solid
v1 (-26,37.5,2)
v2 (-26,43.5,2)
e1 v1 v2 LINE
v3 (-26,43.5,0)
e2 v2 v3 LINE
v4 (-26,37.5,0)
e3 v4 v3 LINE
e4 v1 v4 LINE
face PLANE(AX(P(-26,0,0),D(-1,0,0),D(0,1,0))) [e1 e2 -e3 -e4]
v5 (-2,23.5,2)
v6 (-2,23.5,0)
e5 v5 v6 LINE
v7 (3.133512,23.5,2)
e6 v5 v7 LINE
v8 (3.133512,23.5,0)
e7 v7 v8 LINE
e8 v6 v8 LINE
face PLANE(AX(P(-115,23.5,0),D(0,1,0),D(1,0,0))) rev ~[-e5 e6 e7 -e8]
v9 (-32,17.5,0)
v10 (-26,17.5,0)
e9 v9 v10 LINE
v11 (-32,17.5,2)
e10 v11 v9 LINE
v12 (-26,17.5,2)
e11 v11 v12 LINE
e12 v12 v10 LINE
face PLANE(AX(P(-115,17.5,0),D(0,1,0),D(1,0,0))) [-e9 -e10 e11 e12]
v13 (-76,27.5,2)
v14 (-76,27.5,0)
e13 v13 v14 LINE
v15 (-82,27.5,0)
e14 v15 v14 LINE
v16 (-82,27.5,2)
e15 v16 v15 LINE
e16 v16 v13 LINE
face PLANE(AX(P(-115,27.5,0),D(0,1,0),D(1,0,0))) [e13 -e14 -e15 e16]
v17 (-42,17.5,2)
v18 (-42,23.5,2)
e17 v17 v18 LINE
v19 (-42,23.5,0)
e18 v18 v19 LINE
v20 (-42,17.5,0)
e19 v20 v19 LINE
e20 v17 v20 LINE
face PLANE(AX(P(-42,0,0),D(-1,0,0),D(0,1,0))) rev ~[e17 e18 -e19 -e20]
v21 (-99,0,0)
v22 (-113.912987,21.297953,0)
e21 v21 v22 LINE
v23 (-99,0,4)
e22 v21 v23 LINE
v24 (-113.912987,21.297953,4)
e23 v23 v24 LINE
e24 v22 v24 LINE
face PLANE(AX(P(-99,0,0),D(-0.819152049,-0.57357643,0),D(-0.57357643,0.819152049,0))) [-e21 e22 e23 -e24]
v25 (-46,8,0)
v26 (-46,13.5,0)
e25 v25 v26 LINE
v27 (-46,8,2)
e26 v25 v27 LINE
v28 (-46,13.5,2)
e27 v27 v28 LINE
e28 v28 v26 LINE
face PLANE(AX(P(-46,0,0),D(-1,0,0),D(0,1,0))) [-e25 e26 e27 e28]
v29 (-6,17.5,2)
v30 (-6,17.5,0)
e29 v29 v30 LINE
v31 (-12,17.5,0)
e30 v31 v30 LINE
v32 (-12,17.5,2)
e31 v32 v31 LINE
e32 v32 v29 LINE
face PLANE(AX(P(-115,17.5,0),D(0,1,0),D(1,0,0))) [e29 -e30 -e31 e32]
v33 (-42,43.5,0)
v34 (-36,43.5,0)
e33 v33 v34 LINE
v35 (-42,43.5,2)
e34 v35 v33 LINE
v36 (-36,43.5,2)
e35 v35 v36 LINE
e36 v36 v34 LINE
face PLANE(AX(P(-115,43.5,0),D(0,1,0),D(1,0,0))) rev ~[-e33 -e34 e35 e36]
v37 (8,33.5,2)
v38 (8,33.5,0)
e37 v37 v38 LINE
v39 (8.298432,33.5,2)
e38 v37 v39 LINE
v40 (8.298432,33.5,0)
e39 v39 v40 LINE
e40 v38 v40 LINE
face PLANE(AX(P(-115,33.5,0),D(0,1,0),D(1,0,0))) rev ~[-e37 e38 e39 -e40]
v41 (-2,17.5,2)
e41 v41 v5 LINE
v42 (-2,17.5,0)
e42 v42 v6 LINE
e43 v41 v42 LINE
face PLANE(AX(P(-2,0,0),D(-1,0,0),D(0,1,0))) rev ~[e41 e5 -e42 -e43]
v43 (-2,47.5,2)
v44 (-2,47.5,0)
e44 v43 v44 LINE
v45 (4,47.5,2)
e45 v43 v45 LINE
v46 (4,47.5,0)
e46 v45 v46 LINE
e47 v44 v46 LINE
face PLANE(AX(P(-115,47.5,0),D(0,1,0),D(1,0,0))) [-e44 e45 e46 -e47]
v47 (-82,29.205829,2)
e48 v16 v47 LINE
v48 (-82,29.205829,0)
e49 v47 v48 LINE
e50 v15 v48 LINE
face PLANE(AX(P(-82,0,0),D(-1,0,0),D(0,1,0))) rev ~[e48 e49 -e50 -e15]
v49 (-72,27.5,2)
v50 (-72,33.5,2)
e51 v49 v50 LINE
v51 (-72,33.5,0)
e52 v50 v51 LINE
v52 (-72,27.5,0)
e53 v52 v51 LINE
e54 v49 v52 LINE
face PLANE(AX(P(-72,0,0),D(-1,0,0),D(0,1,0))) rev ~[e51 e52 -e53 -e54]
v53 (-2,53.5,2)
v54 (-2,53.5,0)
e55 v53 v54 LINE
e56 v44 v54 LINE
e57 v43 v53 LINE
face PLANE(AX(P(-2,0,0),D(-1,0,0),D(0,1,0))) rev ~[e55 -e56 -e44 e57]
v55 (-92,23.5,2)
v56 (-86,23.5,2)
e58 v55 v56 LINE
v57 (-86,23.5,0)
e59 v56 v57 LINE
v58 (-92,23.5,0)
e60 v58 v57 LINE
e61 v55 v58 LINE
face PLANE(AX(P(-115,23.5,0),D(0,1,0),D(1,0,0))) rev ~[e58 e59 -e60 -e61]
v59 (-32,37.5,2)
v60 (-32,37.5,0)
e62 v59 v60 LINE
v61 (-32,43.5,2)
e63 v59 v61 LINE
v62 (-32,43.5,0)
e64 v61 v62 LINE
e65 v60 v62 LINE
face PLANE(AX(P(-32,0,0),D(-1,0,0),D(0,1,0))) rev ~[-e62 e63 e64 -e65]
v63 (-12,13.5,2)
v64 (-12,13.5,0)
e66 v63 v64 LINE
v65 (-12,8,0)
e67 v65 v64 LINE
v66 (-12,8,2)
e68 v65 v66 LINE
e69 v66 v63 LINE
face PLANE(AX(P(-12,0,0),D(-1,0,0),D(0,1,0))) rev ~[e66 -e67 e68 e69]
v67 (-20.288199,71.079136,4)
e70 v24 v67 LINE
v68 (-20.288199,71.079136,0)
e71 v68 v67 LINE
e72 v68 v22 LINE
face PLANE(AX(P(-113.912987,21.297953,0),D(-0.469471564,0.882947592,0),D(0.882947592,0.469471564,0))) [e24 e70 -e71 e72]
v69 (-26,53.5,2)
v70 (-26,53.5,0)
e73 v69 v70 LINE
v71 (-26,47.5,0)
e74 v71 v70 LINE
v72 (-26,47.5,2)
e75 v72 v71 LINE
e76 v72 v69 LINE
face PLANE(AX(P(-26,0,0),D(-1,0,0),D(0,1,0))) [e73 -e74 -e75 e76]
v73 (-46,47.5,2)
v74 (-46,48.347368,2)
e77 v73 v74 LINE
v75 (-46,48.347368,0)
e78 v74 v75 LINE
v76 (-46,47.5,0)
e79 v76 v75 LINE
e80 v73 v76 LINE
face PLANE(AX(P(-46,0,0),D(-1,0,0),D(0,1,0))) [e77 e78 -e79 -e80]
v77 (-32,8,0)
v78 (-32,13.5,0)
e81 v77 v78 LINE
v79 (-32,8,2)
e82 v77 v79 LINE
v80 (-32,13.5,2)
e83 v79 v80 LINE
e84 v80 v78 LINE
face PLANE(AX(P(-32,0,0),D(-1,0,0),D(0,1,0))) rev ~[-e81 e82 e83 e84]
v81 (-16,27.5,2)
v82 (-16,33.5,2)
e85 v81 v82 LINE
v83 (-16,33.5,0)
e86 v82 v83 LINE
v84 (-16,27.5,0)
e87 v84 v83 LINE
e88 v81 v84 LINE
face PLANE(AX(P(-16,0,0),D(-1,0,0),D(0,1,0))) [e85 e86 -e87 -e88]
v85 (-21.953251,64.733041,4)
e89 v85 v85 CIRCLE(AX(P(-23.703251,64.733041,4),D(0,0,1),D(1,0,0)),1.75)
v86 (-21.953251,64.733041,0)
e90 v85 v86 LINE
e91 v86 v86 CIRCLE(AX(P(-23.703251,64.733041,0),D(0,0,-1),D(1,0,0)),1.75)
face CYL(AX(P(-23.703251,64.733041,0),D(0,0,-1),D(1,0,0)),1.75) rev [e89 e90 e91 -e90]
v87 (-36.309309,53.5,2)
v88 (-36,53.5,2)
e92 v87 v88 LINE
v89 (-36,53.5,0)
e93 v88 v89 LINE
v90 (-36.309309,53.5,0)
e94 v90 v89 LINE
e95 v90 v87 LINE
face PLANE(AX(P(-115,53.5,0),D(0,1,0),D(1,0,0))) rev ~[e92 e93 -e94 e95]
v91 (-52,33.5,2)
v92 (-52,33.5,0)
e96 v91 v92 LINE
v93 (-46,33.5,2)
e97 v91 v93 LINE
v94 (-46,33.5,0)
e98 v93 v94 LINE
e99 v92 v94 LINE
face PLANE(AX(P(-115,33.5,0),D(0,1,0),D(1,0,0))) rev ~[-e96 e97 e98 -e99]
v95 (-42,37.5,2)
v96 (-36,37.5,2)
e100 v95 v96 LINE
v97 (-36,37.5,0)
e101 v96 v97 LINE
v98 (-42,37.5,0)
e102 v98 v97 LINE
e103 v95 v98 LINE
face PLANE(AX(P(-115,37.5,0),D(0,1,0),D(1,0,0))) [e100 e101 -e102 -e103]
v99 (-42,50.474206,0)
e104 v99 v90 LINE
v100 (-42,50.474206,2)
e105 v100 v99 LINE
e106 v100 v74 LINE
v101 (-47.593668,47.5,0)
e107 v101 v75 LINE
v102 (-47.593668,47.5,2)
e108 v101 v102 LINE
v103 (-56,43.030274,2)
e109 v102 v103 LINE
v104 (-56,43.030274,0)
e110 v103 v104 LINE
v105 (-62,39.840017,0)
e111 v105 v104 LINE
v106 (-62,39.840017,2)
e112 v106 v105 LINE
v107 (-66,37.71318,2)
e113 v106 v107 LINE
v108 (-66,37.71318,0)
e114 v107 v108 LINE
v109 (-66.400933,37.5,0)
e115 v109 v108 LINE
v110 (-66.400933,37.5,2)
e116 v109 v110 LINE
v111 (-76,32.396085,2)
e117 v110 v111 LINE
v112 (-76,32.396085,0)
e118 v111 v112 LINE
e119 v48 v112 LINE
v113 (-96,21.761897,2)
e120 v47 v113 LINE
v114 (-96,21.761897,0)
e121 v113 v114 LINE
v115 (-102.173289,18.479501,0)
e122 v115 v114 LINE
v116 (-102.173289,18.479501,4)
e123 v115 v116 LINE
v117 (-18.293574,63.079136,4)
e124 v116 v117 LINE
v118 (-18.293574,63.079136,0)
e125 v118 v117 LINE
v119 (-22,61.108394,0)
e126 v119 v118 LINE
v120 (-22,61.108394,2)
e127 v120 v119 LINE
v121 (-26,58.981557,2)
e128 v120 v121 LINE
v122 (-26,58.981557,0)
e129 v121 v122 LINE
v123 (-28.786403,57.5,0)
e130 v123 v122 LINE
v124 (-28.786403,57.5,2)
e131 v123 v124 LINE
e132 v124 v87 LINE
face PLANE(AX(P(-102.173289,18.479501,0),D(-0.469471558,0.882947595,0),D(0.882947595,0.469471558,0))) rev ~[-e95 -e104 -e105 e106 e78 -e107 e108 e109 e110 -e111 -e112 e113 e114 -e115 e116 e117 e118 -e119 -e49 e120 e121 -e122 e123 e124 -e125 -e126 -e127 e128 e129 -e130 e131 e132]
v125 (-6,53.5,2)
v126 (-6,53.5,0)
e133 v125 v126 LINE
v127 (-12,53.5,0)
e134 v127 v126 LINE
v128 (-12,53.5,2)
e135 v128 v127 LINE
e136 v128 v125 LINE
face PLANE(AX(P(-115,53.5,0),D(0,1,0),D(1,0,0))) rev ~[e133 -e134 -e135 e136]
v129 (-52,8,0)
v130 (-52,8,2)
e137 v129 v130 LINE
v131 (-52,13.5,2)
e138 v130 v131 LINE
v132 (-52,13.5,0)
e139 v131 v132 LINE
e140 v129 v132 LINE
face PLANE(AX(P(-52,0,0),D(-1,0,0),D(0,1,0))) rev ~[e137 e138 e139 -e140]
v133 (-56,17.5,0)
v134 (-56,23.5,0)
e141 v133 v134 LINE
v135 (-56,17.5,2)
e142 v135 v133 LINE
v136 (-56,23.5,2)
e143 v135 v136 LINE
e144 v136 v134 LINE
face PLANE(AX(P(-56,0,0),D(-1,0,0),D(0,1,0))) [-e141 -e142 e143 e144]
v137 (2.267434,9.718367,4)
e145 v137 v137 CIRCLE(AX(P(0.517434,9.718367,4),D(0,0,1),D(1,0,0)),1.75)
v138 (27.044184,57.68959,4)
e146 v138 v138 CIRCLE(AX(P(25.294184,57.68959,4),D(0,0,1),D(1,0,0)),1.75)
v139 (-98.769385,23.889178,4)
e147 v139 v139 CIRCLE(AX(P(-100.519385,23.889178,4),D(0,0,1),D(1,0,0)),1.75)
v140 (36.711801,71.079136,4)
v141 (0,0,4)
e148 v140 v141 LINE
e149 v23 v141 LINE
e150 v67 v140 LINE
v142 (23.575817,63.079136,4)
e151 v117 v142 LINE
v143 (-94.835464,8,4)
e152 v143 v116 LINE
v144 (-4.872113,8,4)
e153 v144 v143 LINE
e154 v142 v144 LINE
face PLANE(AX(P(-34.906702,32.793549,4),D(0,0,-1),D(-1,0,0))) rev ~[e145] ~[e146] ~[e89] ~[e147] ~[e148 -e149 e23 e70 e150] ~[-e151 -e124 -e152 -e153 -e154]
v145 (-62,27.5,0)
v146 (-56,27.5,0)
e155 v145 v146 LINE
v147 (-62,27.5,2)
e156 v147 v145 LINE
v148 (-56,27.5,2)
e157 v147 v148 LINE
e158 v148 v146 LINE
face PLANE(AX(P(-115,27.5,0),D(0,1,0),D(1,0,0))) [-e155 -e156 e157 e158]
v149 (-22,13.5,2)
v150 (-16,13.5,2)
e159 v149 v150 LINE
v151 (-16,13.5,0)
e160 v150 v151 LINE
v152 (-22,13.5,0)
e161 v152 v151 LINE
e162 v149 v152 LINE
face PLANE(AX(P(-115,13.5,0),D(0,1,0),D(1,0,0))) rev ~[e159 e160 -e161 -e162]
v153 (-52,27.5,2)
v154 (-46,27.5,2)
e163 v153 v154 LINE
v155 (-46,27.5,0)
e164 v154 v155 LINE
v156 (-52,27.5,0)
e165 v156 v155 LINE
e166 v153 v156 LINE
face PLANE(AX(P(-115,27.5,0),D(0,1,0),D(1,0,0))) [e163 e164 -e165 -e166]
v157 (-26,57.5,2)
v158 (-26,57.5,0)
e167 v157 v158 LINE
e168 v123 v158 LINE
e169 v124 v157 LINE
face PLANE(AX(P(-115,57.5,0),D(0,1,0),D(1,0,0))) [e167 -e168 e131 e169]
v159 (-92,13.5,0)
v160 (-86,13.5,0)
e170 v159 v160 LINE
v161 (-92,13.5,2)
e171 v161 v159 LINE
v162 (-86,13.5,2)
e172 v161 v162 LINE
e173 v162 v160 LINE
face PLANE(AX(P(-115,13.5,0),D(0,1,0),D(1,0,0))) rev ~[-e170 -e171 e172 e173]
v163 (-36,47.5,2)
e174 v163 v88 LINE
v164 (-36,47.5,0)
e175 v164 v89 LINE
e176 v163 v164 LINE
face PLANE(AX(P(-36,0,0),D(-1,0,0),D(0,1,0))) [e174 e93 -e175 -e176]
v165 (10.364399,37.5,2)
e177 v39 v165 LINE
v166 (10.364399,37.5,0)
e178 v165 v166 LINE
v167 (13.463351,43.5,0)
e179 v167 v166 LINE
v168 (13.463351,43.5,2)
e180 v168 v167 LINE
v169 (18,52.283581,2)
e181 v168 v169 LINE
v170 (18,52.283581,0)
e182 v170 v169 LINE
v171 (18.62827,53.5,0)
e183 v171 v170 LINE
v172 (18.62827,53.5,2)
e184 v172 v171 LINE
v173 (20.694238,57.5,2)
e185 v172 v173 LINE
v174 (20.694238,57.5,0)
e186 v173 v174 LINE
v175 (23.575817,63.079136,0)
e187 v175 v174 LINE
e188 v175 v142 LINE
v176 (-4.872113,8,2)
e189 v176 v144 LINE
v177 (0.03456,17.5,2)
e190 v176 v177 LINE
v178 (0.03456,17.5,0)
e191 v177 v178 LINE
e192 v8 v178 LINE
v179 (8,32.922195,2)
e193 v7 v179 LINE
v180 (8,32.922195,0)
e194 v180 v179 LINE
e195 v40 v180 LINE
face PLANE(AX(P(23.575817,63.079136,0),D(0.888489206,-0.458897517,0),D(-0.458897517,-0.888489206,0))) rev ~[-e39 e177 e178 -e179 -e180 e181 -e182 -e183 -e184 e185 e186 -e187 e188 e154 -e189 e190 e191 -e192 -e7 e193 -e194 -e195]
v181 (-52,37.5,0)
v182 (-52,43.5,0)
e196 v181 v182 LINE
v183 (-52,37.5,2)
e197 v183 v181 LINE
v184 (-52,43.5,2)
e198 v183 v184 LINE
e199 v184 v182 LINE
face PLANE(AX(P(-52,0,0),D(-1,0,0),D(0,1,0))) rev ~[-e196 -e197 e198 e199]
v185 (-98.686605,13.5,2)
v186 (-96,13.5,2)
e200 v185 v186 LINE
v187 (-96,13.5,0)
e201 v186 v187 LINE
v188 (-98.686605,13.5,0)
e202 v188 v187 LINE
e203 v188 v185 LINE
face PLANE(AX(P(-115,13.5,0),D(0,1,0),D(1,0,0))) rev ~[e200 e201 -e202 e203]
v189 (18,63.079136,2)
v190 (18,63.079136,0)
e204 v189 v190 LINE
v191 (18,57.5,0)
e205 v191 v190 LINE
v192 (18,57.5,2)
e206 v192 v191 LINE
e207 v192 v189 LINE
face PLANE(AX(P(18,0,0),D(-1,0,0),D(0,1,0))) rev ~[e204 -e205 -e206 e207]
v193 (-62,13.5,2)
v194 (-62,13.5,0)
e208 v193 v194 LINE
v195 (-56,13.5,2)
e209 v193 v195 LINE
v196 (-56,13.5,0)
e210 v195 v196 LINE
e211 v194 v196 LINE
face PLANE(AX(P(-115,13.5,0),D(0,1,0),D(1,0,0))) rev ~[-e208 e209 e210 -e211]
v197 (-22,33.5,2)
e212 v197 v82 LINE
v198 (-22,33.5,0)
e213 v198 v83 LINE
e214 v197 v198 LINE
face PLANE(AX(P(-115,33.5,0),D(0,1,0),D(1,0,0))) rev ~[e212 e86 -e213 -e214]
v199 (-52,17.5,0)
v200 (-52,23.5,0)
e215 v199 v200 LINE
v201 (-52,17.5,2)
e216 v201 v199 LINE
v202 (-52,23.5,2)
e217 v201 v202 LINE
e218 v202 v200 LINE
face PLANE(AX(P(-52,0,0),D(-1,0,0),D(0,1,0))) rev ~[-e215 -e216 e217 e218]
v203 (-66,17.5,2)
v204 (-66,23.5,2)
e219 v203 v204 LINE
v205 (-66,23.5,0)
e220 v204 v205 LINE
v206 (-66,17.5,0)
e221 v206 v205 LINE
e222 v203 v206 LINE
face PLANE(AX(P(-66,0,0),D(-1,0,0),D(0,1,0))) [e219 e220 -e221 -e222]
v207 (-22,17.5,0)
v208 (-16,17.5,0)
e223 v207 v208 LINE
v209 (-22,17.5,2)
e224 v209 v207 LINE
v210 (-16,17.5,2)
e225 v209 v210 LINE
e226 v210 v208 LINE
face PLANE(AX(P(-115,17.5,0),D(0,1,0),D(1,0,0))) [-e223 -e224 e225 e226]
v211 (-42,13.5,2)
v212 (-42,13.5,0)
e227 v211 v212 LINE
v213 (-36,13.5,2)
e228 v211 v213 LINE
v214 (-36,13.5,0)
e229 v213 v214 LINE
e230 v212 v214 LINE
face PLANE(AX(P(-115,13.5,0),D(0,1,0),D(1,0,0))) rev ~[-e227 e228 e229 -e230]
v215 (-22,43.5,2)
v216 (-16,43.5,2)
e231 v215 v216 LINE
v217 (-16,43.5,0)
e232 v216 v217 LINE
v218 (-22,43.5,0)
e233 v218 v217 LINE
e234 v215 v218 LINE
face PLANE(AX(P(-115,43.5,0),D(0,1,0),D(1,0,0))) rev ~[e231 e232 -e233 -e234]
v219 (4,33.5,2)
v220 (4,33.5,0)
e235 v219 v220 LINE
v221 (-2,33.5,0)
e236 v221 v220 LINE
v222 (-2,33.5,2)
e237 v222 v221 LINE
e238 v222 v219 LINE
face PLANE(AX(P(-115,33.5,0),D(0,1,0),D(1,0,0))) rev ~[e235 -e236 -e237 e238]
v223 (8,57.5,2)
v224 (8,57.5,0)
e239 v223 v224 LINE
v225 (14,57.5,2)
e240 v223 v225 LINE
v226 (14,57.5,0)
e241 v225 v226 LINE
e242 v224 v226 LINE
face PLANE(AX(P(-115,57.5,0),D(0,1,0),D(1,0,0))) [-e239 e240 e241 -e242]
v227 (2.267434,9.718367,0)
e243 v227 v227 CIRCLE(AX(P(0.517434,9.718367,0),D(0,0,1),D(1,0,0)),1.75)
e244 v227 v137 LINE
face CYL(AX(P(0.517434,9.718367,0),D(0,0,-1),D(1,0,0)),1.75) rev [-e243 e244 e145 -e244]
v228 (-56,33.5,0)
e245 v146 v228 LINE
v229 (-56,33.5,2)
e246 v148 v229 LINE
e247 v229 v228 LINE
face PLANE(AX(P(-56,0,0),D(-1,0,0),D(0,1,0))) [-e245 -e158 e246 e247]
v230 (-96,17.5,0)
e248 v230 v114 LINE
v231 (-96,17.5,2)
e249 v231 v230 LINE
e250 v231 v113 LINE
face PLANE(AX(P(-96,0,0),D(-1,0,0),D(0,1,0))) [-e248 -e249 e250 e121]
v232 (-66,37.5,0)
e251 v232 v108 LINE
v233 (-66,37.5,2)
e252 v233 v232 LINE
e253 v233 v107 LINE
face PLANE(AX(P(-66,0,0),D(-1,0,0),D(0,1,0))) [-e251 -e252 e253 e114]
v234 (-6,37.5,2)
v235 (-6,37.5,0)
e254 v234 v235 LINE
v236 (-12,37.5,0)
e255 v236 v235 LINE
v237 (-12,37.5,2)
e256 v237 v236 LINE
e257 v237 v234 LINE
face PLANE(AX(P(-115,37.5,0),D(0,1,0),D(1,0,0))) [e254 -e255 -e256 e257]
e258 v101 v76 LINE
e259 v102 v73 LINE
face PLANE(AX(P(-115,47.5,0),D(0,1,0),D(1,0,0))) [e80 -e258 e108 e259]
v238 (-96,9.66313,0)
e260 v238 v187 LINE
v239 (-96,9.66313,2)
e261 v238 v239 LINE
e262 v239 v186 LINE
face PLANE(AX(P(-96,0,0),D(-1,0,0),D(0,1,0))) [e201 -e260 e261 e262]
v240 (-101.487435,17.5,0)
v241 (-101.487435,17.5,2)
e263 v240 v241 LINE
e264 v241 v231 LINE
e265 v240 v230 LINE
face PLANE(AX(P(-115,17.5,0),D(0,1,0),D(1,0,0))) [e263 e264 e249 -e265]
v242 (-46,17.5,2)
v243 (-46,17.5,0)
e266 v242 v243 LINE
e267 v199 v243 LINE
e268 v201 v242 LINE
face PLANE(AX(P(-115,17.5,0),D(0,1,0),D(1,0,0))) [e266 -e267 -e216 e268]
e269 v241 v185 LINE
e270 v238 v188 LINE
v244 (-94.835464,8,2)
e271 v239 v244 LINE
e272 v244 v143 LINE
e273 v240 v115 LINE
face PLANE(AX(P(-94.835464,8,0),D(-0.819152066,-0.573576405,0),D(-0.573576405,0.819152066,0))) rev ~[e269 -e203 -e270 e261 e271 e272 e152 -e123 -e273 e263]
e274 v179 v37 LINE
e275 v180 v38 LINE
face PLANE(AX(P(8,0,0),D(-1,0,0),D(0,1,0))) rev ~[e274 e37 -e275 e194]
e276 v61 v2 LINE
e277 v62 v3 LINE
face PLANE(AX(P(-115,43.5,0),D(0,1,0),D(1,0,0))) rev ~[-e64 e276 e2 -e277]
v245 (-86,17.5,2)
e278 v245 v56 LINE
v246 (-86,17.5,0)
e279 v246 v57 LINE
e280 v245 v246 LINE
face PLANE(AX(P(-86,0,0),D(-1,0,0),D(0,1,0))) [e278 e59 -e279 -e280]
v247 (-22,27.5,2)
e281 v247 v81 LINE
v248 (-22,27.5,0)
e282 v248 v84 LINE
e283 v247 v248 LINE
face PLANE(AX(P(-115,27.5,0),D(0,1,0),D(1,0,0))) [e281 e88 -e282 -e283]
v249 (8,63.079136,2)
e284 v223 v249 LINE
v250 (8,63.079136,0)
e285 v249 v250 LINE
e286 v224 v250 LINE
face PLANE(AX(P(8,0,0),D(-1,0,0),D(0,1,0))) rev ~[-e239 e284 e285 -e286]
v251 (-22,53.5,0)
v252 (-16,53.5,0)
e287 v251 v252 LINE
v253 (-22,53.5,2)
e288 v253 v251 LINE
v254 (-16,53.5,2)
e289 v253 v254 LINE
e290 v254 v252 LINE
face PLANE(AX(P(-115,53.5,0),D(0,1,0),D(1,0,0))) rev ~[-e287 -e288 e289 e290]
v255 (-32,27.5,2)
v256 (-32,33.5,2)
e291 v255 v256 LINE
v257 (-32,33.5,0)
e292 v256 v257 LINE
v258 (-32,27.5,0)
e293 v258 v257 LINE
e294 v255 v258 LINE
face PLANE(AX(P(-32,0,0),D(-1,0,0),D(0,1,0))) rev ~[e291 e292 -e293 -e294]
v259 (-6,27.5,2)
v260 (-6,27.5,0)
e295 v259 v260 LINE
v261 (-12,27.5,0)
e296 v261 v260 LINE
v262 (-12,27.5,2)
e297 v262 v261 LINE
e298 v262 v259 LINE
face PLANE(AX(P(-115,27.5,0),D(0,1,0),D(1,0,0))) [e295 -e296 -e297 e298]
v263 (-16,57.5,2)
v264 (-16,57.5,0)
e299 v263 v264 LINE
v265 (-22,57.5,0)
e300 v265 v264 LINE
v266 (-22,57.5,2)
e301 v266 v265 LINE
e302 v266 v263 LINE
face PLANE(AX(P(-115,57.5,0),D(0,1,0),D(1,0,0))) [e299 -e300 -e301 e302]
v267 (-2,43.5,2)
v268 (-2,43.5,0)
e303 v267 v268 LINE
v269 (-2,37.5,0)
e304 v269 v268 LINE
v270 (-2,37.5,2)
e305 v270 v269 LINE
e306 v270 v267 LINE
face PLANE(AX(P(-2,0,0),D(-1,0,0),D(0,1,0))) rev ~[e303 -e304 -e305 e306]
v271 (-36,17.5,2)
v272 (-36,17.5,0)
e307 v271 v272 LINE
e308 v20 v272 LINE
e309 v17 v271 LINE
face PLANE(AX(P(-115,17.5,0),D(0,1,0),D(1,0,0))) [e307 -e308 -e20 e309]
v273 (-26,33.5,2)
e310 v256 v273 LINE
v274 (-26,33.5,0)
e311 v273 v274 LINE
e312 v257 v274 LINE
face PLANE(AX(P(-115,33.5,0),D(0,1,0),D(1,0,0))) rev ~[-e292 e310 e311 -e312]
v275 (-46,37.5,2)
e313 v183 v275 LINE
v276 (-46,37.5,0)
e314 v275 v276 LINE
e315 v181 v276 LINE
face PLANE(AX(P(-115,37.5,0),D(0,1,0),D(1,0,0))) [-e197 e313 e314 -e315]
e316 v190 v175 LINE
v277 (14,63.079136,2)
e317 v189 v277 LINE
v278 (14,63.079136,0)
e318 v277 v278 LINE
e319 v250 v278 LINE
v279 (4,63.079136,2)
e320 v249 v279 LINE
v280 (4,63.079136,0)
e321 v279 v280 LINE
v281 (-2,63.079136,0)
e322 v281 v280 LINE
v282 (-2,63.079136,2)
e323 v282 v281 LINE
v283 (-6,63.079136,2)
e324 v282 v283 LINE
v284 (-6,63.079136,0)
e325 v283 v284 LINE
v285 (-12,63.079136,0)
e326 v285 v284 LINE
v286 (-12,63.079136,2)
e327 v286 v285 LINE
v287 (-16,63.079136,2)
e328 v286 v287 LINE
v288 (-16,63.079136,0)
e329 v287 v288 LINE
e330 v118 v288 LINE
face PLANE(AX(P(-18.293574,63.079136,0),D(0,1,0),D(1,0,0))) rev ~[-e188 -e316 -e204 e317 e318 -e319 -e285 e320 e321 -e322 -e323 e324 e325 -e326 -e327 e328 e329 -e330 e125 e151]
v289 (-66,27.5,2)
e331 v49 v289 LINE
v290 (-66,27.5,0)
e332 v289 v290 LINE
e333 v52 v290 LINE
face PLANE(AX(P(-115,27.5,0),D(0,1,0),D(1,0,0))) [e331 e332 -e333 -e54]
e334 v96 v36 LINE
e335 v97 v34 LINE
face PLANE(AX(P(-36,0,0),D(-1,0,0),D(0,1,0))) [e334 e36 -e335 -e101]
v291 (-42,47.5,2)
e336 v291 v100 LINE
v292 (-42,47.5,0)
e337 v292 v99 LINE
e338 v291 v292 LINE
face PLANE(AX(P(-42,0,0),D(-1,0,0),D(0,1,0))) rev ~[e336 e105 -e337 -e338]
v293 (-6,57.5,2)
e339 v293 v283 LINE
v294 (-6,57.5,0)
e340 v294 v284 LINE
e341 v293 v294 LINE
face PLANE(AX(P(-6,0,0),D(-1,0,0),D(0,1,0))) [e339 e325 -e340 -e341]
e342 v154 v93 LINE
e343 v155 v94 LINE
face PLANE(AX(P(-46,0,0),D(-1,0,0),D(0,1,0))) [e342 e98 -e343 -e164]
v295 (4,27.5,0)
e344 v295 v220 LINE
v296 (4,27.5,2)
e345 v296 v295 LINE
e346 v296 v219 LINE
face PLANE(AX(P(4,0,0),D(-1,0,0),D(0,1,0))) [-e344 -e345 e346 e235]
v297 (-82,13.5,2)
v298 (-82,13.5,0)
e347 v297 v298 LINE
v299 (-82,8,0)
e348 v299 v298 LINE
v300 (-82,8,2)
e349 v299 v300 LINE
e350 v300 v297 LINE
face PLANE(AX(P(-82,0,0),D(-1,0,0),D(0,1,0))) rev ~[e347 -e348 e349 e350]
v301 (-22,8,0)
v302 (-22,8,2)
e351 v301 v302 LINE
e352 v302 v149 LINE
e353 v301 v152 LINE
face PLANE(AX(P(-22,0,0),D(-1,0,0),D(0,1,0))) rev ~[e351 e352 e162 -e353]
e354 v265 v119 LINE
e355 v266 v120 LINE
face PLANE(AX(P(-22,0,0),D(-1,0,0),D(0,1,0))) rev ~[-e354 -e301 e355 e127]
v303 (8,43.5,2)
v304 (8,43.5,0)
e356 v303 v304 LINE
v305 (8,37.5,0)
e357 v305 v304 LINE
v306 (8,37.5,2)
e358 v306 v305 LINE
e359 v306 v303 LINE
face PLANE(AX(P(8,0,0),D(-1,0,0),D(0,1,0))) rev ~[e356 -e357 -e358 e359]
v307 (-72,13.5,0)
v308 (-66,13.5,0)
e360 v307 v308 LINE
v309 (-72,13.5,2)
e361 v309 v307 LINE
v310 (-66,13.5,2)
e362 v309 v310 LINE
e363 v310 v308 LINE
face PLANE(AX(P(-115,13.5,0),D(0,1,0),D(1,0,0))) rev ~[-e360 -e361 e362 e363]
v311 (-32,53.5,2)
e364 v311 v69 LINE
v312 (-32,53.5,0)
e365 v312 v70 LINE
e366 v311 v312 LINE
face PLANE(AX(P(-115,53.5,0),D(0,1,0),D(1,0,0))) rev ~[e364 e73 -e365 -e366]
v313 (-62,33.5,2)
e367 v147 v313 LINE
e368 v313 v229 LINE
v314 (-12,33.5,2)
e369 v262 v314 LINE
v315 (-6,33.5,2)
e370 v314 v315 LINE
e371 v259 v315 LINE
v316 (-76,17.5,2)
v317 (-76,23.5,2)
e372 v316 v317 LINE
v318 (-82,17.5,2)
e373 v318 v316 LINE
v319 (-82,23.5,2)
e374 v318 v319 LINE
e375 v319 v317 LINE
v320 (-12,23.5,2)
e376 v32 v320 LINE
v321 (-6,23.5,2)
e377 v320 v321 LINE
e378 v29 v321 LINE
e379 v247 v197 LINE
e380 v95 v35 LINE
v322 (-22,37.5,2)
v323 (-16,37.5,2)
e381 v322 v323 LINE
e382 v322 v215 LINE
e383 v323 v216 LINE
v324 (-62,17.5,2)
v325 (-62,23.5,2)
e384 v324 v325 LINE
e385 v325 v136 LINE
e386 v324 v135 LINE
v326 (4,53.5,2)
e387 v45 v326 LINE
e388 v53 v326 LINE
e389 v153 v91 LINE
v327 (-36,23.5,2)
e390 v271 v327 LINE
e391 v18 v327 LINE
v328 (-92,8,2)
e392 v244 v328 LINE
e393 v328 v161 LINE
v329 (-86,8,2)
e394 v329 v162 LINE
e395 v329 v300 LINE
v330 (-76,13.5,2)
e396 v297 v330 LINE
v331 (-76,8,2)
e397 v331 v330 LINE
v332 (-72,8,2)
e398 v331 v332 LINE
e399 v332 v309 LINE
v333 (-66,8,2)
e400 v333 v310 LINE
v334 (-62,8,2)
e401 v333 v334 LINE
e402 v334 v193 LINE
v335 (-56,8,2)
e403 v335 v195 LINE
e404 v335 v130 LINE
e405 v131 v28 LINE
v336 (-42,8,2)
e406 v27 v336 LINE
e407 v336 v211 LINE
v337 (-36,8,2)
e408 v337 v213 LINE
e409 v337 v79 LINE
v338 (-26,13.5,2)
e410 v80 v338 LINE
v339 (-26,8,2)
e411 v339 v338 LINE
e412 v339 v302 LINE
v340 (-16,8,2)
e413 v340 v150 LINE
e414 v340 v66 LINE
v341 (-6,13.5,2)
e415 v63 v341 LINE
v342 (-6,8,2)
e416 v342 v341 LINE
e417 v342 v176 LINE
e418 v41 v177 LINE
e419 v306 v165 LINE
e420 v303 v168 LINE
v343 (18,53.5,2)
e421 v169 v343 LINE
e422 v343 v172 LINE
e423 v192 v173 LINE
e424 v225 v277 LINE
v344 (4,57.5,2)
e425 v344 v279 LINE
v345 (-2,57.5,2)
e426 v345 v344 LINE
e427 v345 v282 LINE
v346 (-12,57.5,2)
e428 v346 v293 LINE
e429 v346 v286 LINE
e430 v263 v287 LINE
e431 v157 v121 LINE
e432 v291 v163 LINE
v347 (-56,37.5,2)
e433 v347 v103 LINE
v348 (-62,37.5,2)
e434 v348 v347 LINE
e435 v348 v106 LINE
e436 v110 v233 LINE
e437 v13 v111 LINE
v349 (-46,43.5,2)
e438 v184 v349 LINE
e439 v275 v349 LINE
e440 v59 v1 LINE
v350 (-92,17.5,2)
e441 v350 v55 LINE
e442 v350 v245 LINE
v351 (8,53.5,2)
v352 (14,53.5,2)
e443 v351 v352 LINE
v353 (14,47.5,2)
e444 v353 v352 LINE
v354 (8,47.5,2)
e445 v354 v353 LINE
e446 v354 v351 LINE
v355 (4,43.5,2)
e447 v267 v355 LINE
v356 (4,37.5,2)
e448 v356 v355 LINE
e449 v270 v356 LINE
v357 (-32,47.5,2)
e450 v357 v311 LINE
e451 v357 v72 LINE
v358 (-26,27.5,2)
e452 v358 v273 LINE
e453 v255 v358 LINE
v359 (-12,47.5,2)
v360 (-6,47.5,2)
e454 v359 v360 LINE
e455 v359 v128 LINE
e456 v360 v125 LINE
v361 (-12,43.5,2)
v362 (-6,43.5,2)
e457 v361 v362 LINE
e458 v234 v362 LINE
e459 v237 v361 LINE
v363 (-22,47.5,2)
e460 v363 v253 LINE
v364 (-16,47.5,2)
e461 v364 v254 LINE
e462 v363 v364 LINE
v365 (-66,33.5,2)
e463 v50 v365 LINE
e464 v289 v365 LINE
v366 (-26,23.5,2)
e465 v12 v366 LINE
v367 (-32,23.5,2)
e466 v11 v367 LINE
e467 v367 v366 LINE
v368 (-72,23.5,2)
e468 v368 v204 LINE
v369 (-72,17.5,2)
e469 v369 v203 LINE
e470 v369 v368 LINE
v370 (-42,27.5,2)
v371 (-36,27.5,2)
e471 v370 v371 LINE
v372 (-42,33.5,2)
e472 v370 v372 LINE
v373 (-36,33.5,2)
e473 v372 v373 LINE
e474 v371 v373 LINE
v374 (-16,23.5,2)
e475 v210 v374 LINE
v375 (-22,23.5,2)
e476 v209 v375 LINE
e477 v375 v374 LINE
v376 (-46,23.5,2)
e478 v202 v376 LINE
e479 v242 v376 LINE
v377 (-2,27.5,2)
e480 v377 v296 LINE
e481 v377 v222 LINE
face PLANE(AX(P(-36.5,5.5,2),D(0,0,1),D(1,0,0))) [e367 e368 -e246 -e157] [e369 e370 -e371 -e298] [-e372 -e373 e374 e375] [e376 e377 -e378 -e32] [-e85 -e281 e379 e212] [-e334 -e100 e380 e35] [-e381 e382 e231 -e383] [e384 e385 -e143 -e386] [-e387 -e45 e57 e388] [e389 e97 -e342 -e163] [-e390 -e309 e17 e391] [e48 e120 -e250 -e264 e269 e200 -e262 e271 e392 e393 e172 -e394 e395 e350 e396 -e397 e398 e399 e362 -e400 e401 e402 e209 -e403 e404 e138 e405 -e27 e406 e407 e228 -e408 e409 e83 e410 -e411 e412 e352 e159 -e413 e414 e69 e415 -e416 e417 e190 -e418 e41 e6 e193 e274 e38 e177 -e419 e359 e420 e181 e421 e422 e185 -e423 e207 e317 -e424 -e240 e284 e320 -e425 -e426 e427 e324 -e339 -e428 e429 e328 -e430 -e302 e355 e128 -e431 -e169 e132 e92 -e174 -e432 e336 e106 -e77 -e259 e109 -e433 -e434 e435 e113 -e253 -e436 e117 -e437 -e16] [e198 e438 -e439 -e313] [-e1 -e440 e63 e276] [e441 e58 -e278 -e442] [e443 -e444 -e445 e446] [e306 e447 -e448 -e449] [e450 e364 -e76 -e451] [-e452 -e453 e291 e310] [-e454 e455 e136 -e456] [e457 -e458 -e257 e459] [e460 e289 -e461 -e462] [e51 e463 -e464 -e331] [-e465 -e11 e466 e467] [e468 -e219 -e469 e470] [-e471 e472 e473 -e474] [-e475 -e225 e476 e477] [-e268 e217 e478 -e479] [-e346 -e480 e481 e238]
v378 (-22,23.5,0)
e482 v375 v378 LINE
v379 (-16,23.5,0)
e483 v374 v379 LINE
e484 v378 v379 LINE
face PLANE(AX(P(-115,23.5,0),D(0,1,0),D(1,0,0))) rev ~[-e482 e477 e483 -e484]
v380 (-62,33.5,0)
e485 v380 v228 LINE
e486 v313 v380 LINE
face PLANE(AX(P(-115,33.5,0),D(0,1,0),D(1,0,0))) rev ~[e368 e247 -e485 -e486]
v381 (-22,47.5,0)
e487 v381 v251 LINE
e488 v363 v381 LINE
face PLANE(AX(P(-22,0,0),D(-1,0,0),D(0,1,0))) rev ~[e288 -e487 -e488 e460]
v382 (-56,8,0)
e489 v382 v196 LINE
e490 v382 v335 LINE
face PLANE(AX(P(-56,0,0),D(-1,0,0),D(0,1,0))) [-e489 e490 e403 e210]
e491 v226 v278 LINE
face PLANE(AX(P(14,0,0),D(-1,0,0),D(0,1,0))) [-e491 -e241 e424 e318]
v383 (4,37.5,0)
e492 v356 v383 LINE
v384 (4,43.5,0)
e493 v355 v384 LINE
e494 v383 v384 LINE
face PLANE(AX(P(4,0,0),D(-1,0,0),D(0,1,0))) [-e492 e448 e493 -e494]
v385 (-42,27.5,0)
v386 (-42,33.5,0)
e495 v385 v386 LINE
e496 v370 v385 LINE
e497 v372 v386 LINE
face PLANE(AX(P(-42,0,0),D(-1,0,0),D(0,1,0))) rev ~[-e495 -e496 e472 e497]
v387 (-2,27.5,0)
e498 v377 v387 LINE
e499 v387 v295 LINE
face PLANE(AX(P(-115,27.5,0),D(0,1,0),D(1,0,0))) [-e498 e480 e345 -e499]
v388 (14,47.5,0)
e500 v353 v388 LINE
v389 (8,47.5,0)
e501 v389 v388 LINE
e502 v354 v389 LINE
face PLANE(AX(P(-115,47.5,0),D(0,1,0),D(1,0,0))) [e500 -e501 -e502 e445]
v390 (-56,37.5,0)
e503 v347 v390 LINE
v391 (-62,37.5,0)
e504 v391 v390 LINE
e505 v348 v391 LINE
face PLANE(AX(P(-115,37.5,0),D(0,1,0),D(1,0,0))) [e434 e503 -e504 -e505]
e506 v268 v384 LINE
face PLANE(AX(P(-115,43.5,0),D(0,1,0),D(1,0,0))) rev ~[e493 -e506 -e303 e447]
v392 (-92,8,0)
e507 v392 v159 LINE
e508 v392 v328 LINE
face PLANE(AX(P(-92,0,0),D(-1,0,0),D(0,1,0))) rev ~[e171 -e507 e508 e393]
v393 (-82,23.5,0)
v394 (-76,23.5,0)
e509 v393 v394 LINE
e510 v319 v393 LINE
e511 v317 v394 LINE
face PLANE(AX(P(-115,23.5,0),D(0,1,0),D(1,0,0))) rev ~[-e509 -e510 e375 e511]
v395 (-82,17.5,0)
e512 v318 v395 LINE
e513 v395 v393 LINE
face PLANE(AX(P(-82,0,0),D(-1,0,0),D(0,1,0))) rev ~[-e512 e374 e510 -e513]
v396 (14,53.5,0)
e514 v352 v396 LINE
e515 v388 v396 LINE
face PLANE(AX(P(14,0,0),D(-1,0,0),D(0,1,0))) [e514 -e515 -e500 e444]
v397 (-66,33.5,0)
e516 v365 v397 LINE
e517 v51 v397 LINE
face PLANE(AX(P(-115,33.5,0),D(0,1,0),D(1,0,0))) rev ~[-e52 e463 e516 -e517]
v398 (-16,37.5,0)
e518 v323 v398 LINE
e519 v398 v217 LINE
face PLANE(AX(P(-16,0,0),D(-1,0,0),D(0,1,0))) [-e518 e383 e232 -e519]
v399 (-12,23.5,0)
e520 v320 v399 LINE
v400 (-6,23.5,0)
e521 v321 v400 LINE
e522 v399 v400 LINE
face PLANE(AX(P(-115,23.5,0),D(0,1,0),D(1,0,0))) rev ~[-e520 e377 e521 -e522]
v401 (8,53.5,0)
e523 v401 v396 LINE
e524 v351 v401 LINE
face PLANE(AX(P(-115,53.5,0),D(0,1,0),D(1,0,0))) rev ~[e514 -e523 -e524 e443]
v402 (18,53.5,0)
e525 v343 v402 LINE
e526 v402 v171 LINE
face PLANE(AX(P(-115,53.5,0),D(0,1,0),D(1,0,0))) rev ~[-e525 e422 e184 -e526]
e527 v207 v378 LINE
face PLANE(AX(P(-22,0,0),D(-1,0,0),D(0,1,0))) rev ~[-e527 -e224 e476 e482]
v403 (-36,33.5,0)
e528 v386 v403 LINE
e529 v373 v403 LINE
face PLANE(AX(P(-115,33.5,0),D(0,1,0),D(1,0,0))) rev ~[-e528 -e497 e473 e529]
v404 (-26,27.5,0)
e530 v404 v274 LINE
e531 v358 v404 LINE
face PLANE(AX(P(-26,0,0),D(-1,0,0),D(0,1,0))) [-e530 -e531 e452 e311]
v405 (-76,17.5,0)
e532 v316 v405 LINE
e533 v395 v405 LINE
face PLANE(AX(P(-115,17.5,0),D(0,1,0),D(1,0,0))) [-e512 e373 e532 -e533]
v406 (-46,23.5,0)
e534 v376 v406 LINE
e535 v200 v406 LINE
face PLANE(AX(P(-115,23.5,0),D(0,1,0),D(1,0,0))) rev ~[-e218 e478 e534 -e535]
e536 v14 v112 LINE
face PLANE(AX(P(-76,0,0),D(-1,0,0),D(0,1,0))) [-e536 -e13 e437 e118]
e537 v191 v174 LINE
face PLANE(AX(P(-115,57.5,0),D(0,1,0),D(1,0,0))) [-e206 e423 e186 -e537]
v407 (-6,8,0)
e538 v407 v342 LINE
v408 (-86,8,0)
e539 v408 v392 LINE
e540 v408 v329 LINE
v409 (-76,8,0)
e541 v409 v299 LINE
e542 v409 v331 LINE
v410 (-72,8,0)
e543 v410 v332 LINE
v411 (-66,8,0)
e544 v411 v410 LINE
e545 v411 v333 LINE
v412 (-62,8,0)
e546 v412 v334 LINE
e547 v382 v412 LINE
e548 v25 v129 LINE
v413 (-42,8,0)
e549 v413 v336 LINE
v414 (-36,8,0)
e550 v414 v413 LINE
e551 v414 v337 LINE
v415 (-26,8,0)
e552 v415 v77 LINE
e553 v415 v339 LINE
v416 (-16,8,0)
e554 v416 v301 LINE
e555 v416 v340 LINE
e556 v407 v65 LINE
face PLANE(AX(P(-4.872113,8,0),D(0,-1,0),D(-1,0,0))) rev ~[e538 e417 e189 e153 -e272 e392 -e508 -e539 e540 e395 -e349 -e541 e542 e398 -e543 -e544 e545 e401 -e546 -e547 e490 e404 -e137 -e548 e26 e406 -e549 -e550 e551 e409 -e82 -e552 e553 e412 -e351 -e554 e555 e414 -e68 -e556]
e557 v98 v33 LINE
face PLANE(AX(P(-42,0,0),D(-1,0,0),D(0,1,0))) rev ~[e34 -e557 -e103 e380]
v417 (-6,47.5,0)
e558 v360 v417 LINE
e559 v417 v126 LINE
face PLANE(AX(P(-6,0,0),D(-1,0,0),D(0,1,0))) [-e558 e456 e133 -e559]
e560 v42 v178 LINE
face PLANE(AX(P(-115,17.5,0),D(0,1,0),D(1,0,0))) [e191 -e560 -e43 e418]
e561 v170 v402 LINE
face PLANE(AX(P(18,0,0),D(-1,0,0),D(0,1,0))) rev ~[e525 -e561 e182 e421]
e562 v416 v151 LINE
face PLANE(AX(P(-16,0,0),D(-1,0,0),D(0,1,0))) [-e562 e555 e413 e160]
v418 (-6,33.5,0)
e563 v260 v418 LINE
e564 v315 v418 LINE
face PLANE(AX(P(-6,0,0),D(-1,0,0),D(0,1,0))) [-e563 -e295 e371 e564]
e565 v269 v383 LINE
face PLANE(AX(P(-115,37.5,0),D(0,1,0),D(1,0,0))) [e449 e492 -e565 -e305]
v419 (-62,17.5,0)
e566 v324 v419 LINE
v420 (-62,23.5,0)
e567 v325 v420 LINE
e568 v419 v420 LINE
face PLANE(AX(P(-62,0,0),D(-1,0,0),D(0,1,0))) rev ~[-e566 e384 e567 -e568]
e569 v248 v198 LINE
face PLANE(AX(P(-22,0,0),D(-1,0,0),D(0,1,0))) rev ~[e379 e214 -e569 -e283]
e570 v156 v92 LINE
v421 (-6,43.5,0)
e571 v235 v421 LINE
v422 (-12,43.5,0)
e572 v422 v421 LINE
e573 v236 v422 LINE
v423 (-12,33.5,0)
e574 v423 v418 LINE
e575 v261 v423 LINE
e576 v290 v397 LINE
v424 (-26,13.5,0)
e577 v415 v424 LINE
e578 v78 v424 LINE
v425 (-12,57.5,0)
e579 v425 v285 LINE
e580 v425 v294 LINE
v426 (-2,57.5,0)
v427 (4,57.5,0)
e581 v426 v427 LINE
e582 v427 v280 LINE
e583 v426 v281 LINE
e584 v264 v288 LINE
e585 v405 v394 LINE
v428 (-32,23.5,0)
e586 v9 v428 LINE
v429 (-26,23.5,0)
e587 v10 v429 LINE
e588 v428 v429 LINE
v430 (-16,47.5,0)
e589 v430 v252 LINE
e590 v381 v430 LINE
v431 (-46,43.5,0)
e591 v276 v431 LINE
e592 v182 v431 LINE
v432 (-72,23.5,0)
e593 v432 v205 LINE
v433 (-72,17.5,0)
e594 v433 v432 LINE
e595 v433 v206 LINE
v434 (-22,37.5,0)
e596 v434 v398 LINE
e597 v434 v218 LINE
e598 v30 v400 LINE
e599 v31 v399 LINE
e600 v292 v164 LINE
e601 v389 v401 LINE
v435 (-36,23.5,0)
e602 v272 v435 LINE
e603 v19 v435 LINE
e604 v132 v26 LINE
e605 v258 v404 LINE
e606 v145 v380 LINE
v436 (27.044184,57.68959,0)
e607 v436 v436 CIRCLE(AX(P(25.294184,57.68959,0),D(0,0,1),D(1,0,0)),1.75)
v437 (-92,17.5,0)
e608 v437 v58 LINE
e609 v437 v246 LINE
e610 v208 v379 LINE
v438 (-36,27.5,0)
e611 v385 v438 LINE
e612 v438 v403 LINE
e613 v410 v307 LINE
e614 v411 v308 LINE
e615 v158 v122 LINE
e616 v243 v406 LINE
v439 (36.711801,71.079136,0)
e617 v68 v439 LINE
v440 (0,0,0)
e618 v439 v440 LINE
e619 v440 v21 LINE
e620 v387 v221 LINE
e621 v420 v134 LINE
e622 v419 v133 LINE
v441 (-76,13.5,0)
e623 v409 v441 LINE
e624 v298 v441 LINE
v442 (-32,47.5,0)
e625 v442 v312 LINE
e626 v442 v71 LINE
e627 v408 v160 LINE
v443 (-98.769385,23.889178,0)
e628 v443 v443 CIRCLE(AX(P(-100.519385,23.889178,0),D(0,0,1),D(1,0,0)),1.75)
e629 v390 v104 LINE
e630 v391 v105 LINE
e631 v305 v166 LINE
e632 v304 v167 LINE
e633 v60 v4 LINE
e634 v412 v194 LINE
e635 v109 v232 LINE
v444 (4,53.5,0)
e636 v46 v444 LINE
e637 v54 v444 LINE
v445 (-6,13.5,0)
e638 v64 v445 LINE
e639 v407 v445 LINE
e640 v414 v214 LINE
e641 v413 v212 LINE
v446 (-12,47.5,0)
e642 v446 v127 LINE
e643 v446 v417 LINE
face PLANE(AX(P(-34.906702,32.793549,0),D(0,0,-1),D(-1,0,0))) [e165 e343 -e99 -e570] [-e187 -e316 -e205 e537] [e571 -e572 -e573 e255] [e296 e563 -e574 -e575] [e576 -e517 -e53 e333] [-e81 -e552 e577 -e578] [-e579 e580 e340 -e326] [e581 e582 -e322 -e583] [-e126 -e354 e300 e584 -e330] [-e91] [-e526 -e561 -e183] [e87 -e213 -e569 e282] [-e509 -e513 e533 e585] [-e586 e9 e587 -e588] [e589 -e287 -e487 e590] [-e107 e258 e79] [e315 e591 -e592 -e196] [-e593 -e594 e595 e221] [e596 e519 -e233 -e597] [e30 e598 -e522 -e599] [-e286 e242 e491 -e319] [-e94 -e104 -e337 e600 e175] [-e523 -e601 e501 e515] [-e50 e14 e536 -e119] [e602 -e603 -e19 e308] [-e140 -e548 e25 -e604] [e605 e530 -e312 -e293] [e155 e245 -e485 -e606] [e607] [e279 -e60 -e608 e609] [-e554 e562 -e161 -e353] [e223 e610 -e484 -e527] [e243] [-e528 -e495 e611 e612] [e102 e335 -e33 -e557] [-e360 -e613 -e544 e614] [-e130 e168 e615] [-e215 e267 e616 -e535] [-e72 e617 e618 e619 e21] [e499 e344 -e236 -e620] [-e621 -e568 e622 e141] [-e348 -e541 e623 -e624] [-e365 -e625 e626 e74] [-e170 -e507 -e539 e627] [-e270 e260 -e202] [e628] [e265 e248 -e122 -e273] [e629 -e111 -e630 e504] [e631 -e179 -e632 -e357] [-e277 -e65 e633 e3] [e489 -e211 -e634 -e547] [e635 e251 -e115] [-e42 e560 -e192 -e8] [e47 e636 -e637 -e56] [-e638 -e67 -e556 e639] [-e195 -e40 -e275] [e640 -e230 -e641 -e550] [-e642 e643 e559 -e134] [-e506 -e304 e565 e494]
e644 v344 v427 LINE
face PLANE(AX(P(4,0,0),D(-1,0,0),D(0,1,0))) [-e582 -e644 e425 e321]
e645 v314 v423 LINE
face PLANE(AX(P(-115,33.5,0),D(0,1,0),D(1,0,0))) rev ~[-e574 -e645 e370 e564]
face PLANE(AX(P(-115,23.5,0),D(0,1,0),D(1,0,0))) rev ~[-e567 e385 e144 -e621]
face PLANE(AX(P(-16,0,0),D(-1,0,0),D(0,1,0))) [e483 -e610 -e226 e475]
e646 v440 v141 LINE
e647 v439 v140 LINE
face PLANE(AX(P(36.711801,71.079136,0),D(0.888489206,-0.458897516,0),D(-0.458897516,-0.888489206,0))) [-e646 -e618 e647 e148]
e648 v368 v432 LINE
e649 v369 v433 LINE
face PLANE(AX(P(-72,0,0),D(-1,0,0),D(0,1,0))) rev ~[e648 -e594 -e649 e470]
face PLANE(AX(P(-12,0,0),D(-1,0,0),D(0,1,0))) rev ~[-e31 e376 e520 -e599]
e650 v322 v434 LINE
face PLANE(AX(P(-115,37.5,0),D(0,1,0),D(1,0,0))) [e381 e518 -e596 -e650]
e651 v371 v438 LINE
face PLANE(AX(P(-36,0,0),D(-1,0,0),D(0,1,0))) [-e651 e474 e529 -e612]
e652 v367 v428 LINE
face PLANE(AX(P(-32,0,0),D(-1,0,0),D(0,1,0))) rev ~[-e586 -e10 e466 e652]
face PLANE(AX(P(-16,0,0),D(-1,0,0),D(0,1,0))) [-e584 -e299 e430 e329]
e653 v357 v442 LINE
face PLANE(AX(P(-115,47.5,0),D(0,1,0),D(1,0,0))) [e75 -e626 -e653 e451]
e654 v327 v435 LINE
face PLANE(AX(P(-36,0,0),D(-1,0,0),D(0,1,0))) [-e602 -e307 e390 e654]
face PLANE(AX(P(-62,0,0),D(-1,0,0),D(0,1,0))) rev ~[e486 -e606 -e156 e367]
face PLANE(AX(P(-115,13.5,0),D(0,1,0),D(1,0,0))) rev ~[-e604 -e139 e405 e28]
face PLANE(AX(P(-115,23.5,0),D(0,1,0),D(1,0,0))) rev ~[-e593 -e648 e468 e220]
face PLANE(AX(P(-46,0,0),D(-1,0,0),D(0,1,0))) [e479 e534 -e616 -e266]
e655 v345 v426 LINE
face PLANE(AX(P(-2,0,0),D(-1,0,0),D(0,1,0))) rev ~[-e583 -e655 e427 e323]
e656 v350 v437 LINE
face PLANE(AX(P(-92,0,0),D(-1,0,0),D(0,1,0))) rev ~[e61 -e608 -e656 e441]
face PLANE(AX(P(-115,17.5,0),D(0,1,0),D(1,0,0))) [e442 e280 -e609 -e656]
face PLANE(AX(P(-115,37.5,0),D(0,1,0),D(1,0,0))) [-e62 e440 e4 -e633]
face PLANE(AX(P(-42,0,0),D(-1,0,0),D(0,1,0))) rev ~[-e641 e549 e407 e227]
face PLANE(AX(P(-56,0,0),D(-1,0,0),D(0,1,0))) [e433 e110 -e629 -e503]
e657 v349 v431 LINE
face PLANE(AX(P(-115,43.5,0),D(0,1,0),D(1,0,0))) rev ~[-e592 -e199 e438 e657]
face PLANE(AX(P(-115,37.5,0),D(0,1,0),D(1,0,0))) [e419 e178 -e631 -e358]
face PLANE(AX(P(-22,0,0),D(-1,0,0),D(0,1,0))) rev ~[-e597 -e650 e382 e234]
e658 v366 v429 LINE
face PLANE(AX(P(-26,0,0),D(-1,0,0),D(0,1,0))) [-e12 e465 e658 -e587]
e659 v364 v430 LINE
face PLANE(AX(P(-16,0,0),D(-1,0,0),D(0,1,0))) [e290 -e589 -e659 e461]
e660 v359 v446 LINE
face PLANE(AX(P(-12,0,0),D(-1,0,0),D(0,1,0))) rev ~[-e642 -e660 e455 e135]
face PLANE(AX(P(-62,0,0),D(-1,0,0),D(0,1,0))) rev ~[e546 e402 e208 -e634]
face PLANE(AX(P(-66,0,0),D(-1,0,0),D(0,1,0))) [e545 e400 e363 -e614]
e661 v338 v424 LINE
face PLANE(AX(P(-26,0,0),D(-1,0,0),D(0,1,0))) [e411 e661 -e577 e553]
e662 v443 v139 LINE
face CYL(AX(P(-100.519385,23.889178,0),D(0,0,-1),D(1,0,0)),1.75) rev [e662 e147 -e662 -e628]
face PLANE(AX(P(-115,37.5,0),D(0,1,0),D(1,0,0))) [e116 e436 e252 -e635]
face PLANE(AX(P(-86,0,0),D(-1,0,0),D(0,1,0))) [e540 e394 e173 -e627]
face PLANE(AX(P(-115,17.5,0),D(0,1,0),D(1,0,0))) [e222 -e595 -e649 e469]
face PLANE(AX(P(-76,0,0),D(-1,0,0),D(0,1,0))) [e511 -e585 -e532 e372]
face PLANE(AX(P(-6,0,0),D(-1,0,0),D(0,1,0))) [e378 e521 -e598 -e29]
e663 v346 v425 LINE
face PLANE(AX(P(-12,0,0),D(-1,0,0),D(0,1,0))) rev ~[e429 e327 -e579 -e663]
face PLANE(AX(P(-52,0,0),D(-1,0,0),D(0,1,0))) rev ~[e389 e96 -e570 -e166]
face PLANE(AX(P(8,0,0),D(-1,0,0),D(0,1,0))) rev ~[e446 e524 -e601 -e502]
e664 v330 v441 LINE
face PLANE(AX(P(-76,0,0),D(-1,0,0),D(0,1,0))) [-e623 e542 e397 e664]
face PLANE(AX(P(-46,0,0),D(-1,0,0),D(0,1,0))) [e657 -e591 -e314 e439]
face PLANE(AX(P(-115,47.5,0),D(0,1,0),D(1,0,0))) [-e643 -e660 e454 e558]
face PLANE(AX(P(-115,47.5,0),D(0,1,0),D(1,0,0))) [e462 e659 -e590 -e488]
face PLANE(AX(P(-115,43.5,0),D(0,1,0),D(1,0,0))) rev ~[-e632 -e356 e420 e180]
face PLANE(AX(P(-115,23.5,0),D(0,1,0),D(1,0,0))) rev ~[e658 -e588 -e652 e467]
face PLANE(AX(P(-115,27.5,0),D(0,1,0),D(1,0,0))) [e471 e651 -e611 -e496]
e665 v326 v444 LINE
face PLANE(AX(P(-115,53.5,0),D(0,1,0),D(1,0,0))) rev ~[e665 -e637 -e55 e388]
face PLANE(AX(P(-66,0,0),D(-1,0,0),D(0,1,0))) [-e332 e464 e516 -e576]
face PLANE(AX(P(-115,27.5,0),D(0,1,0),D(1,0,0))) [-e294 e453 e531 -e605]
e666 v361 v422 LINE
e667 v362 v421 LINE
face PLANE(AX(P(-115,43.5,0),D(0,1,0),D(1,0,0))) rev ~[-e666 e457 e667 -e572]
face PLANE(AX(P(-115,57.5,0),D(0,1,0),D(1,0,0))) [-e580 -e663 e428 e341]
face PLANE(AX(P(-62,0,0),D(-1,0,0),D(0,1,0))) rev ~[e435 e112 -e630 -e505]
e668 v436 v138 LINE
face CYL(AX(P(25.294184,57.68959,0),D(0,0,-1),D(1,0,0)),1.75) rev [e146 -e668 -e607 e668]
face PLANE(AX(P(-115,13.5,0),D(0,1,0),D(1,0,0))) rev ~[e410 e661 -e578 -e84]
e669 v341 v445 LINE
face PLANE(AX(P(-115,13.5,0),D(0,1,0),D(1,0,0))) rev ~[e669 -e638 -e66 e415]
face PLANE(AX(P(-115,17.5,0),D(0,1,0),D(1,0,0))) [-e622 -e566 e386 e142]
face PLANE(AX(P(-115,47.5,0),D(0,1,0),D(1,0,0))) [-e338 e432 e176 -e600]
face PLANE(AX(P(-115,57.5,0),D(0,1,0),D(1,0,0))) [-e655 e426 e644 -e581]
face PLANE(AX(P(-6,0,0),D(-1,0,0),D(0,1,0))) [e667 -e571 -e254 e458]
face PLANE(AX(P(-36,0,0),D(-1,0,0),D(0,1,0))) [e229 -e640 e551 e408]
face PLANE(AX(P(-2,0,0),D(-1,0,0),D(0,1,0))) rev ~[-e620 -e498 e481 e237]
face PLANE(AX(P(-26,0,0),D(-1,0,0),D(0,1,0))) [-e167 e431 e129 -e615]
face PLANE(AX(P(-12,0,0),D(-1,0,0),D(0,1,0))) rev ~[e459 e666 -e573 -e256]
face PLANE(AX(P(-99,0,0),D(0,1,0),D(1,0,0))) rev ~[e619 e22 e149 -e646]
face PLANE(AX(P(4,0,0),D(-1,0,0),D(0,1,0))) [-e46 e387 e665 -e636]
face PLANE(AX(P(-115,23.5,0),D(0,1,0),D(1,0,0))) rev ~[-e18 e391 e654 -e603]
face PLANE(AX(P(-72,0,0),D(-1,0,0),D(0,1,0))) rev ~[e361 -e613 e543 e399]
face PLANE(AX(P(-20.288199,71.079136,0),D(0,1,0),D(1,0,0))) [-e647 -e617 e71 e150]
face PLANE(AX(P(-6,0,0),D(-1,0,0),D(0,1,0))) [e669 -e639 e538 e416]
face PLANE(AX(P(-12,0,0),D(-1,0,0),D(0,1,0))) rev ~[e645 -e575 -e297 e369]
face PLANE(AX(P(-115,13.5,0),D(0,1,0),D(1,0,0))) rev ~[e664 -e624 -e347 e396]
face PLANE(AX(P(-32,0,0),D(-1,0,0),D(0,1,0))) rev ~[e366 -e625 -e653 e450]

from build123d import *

# Parameters (mm, degrees)
SKETCH002_R      = 1.75
PAD005_DEPTH     = 25
SKETCH004_R      = 1.75
PAD004_DEPTH     = 4
PAD003_DEPTH     = 10
BOX001_W         = 157
BOX001_H         = 4
BOX001_DEPTH     = 2
ARRAY001_Y_COUNT = 7
ARRAY001_Y_PITCH = 10
BOX_W            = 4
BOX_H            = 71
BOX_DEPTH        = 2
ARRAY_X_COUNT    = 14
ARRAY_X_PITCH    = 10


with BuildPart() as pad005:
    # Sketch002 → Pad005 (new body)
    with BuildSketch(Plane.XY.offset(-5)):
        with Locations((-100.519385, 23.889178)):
            Circle(SKETCH002_R)
        with Locations((-23.703251, 64.733041)):
            Circle(SKETCH002_R)
        with Locations((25.294184, 57.68959)):
            Circle(SKETCH002_R)
        with Locations((0.517434, 9.718367)):
            Circle(SKETCH002_R)
    extrude(amount=PAD005_DEPTH)


with BuildPart() as pad004:
    # Sketch004 → Pad004 (new body)
    with BuildSketch(Plane.XY):
        Polygon((-113.912987, 21.297953), (-20.288199, 71.079136), (36.711801, 71.079136), (0, 0), (-22, 0), (-61, 0), (-99, 0), align=None)
        with Locations((-100.519385, 23.889178)):
            Circle(SKETCH004_R, mode=Mode.SUBTRACT)
        with Locations((-23.703251, 64.733041)):
            Circle(SKETCH004_R, mode=Mode.SUBTRACT)
        with Locations((25.294184, 57.68959)):
            Circle(SKETCH004_R, mode=Mode.SUBTRACT)
        with Locations((0.517434, 9.718367)):
            Circle(SKETCH004_R, mode=Mode.SUBTRACT)
        Polygon((-61, 8), (-94.835464, 8), (-102.173289, 18.479501), (-18.293574, 63.079136), (23.575817, 63.079136), (-4.872113, 8), (-22, 8), align=None, mode=Mode.SUBTRACT)
    extrude(amount=PAD004_DEPTH)


with BuildPart() as pad003:
    # Sketch003 → Pad003 (new body)
    with BuildSketch(Plane.XY.offset(-1)):
        Polygon((-113.912987, 21.297953), (-20.288199, 71.079136), (36.711801, 71.079136), (0, 0), (-22, 0), (-61, 0), (-99, 0), align=None)
    extrude(amount=PAD003_DEPTH)


with BuildPart() as array001:
    # Box001 → Box001 (new body)
    with BuildSketch(Plane(origin=(-115, 0, 0), x_dir=(1, 0, 0), z_dir=(0, 0, 1))):
        with Locations((78.5, 2)):
            Rectangle(BOX001_W, BOX001_H)
    extrude(amount=BOX001_DEPTH)

    # Array001 Y: Array001 ×7


with BuildPart() as array001_1:
    add(array001.part)
    with Locations(*[(0, i * ARRAY001_Y_PITCH, 0) for i in range(1, ARRAY001_Y_COUNT)]):
        add(array001.part)


with BuildPart() as array001_2:
    # Array001 placement: moved
    add(array001_1.part.moved(Location((0, 3.5, 0))))


with BuildPart() as cut002:
    # Box → Box (new body)
    with BuildSketch(Plane.XY):
        with Locations((2, 35.5)):
            Rectangle(BOX_W, BOX_H)
    extrude(amount=BOX_DEPTH)

    # Array X: Cut002 ×14


with BuildPart() as cut002_1:
    add(cut002.part)
    with Locations(*[(i * ARRAY_X_PITCH, 0, 0) for i in range(1, ARRAY_X_COUNT)]):
        add(cut002.part)


with BuildPart() as cut002_2:
    # Array placement: moved
    add(cut002_1.part.moved(Location((-96, 0, 0))))

    # Fusion002: union Array001
    add(array001_2.part)

    # Common001: intersect Pad003
    add(pad003.part, mode=Mode.INTERSECT)

    # Fusion003: union Pad004
    add(pad004.part)

    # Cut002: cut Pad005
    add(pad005.part, mode=Mode.SUBTRACT)


solid = cut002_2.part
